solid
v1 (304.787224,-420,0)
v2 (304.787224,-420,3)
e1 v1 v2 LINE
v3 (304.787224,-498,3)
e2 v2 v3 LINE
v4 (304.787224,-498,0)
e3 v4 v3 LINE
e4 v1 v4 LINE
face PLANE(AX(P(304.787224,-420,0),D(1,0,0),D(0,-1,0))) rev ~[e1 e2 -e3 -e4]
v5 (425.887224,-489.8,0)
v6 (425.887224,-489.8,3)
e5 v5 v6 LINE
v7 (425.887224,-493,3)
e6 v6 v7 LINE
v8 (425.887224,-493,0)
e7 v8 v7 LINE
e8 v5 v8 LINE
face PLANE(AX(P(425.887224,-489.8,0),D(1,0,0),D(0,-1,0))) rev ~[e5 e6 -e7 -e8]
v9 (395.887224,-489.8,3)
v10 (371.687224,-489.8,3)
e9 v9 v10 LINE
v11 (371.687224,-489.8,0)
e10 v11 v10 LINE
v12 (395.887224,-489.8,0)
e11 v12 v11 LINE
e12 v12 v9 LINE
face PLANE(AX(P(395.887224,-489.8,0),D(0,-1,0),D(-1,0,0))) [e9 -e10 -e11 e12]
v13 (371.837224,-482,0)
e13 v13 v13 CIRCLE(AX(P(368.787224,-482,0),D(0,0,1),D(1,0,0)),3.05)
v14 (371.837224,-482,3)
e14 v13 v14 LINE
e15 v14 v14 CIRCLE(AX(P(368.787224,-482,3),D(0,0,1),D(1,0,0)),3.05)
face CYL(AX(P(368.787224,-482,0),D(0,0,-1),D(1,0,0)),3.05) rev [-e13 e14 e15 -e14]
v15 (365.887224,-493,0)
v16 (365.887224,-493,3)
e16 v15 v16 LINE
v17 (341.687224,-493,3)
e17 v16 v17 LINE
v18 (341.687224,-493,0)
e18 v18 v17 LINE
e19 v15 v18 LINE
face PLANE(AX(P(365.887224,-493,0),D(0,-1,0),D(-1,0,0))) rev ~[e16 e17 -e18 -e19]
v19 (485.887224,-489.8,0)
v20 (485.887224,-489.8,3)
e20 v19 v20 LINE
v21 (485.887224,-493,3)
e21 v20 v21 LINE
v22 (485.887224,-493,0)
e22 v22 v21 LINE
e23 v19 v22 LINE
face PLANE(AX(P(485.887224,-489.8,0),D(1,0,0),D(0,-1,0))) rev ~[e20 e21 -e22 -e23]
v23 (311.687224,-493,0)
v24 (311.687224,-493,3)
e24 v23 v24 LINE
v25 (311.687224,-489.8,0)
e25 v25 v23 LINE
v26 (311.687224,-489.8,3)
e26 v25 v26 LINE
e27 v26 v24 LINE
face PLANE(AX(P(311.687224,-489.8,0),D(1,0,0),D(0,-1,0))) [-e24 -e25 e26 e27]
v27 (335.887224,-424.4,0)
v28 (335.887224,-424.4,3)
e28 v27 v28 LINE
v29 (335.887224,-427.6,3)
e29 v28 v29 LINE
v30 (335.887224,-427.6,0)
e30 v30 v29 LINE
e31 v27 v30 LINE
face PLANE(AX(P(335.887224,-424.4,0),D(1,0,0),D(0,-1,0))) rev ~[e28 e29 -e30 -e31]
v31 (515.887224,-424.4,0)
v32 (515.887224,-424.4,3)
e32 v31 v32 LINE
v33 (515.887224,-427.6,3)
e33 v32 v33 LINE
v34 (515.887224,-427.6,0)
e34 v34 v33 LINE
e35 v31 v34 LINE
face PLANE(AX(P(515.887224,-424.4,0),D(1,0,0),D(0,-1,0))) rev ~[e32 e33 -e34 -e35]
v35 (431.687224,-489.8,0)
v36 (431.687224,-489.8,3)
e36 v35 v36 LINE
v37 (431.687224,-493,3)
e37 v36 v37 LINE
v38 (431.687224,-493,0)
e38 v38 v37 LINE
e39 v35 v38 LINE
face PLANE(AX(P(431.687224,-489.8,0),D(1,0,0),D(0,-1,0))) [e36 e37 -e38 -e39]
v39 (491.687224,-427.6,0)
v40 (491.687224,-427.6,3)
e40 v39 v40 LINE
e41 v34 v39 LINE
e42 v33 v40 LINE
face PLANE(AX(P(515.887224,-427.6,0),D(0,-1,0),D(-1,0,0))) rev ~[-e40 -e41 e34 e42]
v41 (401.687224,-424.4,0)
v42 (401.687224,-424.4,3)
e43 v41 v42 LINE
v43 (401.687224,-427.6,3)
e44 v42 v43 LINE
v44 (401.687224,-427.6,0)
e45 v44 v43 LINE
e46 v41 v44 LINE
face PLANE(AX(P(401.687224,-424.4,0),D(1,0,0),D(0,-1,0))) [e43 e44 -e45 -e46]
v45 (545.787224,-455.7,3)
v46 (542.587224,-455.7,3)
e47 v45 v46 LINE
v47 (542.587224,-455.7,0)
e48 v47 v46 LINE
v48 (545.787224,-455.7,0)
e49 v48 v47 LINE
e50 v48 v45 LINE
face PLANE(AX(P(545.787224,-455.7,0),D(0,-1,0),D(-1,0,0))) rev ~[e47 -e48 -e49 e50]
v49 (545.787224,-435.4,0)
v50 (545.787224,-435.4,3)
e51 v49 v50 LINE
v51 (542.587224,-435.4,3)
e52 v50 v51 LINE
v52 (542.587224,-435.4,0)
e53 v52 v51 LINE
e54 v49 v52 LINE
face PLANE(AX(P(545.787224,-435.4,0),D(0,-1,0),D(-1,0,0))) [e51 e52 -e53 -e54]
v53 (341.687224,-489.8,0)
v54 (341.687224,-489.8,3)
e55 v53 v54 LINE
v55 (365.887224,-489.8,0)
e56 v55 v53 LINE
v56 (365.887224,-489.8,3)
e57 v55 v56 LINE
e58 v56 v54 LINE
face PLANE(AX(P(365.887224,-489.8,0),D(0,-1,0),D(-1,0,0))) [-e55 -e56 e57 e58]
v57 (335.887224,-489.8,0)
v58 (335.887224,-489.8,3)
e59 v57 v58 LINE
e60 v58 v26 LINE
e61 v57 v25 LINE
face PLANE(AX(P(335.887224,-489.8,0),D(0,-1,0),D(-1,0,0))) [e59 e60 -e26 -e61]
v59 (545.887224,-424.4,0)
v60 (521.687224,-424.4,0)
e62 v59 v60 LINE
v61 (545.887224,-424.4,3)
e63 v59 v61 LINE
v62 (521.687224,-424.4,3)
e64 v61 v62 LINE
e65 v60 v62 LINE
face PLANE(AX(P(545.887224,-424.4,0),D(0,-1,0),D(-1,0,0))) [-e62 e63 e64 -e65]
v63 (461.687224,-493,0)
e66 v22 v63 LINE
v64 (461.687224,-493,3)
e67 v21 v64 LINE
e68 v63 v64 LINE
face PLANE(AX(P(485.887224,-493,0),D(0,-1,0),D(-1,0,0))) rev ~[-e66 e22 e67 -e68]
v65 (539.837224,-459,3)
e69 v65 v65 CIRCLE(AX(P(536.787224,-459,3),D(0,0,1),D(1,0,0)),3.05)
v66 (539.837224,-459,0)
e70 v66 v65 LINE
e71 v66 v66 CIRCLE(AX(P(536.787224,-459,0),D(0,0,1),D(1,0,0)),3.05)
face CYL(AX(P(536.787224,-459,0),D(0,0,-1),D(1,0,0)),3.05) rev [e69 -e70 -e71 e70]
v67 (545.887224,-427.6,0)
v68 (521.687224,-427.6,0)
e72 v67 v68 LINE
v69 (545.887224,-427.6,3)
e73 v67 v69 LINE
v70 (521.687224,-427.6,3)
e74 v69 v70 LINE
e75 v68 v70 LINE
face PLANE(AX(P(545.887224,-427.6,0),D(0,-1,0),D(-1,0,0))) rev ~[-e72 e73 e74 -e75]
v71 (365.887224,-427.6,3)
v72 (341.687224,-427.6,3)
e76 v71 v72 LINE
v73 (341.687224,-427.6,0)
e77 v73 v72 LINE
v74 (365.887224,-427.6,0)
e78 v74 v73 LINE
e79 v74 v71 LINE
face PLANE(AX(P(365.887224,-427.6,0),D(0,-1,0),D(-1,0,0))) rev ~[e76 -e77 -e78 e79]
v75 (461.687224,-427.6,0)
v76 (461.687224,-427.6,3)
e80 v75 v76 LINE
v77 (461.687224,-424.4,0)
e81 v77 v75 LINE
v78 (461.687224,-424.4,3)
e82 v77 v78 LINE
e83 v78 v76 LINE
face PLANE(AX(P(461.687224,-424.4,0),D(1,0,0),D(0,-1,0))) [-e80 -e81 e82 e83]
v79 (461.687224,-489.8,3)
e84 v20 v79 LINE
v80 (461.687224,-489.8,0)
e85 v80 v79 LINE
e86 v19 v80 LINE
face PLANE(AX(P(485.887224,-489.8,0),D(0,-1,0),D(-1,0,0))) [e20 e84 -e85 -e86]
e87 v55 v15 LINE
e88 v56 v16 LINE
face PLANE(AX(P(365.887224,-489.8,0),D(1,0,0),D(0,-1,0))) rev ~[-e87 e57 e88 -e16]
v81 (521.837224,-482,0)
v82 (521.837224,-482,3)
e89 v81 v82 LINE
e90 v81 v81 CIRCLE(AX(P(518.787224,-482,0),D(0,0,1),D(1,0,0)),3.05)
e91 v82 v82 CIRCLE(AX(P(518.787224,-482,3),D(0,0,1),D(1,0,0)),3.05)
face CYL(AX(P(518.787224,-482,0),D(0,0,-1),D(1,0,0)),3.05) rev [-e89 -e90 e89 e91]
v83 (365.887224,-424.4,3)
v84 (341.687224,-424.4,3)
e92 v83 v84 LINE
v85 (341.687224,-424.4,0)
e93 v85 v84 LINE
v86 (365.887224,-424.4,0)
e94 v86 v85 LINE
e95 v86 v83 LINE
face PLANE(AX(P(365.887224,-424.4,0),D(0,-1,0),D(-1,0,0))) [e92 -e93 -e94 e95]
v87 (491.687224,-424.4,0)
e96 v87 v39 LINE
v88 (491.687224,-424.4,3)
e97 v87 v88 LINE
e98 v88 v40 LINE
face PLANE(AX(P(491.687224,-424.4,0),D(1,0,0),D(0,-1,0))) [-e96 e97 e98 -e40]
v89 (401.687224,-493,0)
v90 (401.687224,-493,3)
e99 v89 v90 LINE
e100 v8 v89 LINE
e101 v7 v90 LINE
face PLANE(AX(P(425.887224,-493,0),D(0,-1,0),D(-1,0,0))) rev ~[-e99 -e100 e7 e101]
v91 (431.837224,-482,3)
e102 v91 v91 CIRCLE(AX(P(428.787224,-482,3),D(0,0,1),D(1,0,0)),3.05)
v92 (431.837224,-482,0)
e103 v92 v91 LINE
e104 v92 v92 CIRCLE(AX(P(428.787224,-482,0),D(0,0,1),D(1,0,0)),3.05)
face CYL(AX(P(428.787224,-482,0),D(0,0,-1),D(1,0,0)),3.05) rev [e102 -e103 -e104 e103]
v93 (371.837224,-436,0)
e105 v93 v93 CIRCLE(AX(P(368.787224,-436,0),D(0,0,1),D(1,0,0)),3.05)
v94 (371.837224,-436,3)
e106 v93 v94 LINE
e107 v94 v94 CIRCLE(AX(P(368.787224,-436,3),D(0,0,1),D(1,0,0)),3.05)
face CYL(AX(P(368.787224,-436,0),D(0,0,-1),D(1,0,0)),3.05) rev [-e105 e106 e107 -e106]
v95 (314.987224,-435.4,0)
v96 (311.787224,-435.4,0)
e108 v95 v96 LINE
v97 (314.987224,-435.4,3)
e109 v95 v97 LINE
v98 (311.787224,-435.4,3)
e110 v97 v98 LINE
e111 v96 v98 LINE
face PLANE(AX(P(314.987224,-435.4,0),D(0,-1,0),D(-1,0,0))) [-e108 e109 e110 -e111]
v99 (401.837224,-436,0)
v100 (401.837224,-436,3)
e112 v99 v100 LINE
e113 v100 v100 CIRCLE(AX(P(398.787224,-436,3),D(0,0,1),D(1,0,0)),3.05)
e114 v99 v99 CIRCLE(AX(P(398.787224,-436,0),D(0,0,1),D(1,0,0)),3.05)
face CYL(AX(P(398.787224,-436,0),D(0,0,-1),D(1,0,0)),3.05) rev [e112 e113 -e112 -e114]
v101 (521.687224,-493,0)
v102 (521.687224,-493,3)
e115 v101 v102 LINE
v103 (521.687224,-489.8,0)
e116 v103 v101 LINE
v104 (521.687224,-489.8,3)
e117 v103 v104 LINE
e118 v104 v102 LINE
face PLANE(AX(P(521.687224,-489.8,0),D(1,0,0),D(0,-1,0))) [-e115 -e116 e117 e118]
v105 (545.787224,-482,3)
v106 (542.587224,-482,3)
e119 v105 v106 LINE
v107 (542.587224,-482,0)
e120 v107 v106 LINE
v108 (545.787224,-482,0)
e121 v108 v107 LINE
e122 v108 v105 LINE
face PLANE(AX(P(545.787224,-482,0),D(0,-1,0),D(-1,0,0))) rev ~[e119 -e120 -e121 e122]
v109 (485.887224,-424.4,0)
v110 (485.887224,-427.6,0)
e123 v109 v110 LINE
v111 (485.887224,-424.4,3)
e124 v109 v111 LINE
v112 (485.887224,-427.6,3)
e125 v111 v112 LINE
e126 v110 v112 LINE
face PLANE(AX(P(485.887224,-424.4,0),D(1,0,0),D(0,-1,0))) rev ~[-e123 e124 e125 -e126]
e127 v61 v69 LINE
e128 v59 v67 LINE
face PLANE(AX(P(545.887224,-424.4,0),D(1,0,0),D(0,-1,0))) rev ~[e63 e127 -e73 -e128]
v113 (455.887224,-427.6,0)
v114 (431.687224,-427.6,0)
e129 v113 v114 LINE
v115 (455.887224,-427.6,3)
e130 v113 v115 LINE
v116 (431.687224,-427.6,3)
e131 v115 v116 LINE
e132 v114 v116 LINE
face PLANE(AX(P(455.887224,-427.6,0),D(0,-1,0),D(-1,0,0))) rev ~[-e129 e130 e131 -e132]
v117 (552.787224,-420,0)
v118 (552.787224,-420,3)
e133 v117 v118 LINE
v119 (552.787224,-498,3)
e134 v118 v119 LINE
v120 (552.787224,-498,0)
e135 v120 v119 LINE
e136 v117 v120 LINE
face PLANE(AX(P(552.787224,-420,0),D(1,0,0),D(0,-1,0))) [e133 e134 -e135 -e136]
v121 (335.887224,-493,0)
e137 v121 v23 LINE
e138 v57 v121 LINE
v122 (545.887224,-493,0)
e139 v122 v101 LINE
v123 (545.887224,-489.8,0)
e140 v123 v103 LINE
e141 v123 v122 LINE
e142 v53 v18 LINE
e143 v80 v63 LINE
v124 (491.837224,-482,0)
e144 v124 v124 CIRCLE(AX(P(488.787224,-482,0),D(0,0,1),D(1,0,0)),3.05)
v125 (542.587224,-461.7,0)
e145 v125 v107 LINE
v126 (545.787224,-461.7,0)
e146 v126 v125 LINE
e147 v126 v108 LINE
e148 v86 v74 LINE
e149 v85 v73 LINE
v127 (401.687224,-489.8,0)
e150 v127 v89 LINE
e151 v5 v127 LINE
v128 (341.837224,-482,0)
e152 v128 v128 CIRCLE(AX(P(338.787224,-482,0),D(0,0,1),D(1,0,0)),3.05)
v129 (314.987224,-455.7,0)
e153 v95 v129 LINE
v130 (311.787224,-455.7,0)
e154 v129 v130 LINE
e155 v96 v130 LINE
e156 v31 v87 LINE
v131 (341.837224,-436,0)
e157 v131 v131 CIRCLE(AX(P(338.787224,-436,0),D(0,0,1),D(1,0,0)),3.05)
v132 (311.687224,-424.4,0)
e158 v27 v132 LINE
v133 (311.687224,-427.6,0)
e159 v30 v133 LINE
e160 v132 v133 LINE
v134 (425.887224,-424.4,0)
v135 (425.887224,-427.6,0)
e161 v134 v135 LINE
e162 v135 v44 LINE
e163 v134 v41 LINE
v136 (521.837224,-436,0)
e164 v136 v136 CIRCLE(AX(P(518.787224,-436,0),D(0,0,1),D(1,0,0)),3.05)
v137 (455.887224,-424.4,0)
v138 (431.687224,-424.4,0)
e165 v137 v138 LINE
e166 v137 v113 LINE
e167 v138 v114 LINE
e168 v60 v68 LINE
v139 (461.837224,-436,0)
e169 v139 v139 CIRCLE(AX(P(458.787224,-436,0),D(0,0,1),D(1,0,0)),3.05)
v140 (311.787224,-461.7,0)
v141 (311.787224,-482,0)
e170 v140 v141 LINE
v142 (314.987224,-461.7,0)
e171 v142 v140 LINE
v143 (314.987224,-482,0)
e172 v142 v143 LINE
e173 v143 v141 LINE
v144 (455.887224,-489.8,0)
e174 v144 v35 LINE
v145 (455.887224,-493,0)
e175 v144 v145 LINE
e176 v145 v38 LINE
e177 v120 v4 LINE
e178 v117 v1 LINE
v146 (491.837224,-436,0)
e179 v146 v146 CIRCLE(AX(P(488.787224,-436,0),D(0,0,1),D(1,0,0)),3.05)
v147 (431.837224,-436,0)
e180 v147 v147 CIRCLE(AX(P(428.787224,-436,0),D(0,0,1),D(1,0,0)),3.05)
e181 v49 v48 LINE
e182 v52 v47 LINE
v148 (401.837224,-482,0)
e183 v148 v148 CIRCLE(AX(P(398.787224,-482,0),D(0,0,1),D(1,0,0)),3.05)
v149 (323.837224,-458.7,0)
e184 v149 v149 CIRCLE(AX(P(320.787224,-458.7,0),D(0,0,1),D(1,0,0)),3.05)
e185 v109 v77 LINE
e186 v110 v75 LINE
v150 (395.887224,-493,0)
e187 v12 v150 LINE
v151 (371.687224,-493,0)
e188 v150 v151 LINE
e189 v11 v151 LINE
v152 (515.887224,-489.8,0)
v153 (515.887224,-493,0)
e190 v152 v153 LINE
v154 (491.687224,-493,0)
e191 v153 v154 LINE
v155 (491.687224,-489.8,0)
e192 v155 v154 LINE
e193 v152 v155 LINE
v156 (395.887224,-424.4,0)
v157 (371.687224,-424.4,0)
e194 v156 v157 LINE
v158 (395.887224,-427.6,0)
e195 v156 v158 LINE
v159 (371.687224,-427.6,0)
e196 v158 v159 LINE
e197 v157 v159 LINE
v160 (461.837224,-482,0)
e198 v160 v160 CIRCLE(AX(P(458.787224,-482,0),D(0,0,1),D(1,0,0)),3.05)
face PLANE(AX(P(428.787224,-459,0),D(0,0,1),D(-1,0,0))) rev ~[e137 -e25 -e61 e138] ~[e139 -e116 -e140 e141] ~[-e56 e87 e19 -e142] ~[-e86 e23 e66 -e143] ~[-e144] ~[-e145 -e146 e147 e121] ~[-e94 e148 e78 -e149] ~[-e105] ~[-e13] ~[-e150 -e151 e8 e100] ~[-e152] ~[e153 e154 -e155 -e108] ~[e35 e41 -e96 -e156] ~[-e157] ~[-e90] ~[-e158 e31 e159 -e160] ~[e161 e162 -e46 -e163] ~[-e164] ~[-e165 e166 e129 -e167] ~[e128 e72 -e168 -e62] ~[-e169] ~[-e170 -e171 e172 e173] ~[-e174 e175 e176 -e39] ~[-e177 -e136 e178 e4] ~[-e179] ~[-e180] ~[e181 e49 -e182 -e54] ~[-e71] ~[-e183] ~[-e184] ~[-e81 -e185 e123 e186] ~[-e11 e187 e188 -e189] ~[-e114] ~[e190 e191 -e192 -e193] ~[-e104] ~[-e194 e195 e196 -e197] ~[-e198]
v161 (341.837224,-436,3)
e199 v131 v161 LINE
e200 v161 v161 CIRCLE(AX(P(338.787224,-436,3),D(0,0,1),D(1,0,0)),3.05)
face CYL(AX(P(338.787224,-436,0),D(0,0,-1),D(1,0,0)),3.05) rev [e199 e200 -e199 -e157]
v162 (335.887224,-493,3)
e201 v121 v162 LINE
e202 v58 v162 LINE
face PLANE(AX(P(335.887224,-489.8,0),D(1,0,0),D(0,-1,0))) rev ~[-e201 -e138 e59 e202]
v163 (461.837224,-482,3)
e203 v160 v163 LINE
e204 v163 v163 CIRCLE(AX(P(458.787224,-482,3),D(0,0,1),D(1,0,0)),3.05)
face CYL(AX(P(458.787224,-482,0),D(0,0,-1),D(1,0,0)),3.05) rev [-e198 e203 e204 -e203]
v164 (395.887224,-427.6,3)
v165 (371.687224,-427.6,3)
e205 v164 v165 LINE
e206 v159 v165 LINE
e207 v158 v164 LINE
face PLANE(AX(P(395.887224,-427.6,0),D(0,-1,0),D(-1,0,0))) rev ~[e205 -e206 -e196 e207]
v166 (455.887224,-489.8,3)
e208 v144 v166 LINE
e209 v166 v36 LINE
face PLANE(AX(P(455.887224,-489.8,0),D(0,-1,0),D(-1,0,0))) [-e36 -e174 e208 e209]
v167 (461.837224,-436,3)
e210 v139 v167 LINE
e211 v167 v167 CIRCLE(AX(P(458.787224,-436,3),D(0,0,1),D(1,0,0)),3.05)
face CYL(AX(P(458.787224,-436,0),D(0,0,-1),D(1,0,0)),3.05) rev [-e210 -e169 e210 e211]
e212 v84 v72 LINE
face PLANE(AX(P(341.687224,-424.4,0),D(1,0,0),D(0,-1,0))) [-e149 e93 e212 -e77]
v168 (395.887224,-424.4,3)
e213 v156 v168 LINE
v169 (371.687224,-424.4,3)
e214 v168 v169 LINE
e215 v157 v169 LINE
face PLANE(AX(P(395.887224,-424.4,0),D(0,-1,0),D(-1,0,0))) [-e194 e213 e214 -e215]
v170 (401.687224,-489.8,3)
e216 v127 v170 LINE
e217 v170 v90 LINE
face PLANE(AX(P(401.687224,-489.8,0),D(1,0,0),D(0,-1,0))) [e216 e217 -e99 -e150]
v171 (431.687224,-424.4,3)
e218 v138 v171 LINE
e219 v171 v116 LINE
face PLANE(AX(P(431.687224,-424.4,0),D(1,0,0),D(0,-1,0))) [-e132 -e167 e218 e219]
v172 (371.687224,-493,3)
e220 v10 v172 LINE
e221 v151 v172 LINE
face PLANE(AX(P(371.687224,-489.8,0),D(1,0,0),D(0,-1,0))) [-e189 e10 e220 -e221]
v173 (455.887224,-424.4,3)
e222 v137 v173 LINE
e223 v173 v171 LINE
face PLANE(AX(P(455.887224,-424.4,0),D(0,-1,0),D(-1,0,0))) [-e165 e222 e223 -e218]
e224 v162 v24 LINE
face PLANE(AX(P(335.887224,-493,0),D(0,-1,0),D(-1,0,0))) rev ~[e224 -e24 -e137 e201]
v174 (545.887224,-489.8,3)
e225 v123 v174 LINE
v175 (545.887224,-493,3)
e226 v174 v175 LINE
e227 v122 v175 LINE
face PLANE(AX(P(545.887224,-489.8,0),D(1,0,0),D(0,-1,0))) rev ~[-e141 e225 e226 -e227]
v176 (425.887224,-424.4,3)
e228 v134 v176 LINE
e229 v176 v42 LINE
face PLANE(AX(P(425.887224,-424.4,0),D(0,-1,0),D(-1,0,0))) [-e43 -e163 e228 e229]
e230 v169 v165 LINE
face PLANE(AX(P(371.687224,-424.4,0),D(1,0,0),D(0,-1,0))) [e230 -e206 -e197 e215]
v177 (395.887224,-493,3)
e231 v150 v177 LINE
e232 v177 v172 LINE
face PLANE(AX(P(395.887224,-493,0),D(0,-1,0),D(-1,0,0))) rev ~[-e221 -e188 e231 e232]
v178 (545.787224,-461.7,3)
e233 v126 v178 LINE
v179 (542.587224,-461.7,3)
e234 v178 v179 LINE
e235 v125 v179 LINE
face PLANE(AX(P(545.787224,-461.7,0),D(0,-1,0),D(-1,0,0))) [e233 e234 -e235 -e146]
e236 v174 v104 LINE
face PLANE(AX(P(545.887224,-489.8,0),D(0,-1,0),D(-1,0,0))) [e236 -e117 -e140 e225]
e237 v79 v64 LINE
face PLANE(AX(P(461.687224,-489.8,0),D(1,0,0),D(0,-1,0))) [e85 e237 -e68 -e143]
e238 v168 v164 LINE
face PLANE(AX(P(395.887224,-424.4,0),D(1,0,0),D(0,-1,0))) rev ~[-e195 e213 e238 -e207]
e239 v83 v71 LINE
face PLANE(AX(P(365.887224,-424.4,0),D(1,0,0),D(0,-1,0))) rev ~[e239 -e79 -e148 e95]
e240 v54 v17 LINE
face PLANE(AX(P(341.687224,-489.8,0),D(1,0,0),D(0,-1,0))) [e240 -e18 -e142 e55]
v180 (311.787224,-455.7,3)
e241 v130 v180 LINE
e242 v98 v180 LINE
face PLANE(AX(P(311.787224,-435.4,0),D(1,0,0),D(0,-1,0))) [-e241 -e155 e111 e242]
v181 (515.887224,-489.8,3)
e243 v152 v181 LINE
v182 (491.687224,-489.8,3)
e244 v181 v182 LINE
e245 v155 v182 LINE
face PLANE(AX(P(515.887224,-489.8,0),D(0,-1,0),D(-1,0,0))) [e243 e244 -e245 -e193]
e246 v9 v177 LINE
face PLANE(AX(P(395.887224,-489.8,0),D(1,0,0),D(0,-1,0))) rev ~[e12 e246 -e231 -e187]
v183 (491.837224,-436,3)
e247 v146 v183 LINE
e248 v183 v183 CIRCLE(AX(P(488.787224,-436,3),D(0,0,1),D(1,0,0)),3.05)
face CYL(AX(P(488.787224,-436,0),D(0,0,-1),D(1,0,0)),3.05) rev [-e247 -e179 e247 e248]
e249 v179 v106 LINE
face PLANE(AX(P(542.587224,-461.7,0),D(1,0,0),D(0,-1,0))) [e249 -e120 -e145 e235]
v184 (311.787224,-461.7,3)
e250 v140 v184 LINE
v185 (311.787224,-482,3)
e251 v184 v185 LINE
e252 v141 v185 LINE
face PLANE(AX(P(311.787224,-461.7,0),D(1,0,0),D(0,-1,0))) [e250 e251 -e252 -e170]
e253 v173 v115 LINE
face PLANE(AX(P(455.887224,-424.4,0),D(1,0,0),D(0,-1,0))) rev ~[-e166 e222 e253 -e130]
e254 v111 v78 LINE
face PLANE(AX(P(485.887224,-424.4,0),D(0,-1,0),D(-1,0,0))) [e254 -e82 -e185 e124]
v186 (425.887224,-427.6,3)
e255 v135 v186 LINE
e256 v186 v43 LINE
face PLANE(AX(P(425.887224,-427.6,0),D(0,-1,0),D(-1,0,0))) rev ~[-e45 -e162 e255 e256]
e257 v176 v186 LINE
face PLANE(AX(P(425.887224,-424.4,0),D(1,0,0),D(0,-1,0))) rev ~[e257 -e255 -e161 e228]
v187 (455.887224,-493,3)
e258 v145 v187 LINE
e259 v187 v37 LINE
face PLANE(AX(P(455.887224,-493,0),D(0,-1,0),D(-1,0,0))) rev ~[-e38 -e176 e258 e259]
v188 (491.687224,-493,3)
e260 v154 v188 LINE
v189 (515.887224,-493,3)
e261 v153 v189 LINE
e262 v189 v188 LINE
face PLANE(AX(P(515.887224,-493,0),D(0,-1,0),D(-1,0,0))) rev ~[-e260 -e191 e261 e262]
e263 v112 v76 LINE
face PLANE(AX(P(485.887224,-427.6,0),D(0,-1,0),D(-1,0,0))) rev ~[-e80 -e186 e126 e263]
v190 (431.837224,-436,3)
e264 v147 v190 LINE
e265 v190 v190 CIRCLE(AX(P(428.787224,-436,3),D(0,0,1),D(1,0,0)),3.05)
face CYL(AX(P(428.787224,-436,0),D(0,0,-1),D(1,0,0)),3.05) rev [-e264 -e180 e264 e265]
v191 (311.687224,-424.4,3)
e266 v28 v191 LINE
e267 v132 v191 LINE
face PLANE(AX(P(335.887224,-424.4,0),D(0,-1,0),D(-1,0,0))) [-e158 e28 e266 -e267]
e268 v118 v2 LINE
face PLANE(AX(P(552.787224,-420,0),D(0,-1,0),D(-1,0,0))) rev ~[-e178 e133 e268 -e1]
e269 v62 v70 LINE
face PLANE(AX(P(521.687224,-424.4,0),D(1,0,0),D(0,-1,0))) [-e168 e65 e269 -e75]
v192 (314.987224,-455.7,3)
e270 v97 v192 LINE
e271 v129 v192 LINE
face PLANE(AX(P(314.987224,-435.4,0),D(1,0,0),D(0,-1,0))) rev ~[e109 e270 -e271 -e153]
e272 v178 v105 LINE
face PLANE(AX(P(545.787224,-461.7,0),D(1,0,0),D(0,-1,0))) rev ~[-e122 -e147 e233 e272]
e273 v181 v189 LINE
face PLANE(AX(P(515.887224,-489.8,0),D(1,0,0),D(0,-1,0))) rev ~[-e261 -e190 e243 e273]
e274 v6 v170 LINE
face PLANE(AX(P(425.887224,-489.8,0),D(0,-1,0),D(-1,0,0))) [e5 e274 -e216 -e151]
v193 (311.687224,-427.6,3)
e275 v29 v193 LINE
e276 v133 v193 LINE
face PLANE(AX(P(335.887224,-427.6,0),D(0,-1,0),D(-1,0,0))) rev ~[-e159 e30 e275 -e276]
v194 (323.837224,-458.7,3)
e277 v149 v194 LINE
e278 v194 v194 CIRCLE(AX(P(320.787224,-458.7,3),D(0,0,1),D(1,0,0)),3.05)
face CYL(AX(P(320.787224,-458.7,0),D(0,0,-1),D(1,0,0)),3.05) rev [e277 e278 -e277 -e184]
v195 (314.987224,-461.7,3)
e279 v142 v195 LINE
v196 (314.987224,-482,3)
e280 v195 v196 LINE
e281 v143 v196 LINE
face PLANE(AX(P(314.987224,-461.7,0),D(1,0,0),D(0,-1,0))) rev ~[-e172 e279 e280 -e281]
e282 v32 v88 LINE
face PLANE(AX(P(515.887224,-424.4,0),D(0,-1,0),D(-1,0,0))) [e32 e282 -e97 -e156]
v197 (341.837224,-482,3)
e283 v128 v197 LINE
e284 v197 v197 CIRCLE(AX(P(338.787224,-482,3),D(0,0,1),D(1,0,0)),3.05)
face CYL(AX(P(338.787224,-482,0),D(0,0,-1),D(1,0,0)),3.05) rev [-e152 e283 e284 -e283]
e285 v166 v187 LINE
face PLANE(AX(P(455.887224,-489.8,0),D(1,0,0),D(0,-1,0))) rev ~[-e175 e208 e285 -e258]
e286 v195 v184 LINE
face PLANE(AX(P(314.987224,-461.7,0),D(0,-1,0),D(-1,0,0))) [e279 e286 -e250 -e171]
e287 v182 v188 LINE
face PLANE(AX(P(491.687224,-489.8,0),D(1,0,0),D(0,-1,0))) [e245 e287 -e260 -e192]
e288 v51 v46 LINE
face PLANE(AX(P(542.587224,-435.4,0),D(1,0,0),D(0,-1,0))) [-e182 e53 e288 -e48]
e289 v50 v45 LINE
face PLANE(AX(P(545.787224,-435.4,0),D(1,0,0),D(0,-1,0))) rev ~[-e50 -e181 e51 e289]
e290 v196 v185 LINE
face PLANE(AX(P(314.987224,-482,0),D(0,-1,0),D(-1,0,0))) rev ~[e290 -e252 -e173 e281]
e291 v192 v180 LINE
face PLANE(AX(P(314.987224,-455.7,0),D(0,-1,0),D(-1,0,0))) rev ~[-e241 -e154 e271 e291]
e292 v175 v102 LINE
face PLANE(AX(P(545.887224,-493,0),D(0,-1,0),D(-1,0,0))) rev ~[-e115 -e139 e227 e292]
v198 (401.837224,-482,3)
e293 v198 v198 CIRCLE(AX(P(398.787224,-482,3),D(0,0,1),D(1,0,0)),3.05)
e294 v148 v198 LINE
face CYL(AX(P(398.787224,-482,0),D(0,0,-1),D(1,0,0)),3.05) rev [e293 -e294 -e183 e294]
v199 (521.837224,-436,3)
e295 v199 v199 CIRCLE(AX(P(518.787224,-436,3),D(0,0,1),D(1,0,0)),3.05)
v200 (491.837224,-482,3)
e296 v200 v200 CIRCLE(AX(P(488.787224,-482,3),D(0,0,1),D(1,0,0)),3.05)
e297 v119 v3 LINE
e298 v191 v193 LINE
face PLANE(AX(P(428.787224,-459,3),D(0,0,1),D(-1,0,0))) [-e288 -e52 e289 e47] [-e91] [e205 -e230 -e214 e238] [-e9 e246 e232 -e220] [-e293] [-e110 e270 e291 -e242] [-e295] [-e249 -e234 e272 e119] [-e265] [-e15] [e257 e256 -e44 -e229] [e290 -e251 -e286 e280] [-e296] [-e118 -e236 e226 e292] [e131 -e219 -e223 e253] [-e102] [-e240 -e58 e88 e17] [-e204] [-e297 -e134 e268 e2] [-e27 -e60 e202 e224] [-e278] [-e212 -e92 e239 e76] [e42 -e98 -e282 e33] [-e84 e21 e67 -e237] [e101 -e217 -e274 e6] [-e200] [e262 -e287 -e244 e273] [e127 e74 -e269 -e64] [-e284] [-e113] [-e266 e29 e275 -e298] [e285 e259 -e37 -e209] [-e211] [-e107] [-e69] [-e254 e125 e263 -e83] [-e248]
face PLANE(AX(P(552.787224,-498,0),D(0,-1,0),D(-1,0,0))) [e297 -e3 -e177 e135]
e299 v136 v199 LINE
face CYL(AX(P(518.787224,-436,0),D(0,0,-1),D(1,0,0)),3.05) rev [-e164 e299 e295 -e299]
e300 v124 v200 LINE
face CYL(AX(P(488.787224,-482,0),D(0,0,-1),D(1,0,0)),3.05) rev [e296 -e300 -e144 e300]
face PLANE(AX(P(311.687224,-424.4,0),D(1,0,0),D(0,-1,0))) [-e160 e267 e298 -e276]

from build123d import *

# Parameters (mm, degrees)
SKETCH1_W           = 248
SKETCH1_H           = 78
SKETCH1_R           = 3.05
SKETCH1_W_2         = 24.2
SKETCH1_H_2         = 3.2
SKETCH1_W_3         = 3.2
SKETCH1_H_3         = 20.3
BOSS_EXTRUDE2_DEPTH = 3


with BuildPart() as part:
    # Sketch1 → Boss-Extrude2 (new body)
    with BuildSketch(Plane(origin=(0, 0, 0), x_dir=(-1, 0, 0), z_dir=(0, 0, 1))):
        with Locations((-428.787224347, 459)):
            Rectangle(SKETCH1_W, SKETCH1_H)
        with Locations(Location((-338.787224347, 436, 0), (0, 0, 180))):
            Circle(SKETCH1_R, mode=Mode.SUBTRACT)
        with Locations(Location((-368.787224347, 436, 0), (0, 0, 180))):
            Circle(SKETCH1_R, mode=Mode.SUBTRACT)
        with Locations(Location((-428.787224347, 436, 0), (0, 0, 180))):
            Circle(SKETCH1_R, mode=Mode.SUBTRACT)
        with Locations(Location((-398.787224347, 436, 0), (0, 0, 180))):
            Circle(SKETCH1_R, mode=Mode.SUBTRACT)
        with Locations(Location((-488.787224347, 436, 0), (0, 0, 180))):
            Circle(SKETCH1_R, mode=Mode.SUBTRACT)
        with Locations(Location((-458.787224347, 436, 0), (0, 0, 180))):
            Circle(SKETCH1_R, mode=Mode.SUBTRACT)
        with Locations(Location((-458.787224347, 482, 0), (0, 0, 180))):
            Circle(SKETCH1_R, mode=Mode.SUBTRACT)
        with Locations(Location((-428.787224347, 482, 0), (0, 0, 180))):
            Circle(SKETCH1_R, mode=Mode.SUBTRACT)
        with Locations(Location((-398.787224347, 482, 0), (0, 0, 180))):
            Circle(SKETCH1_R, mode=Mode.SUBTRACT)
        with Locations(Location((-368.787224347, 482, 0), (0, 0, 180))):
            Circle(SKETCH1_R, mode=Mode.SUBTRACT)
        with Locations(Location((-338.787224347, 482, 0), (0, 0, 180))):
            Circle(SKETCH1_R, mode=Mode.SUBTRACT)
        with Locations(Location((-320.787224347, 458.7, 0), (0, 0, 180))):
            Circle(SKETCH1_R, mode=Mode.SUBTRACT)
        with Locations(Location((-488.787224347, 482, 0), (0, 0, 180))):
            Circle(SKETCH1_R, mode=Mode.SUBTRACT)
        with Locations(Location((-518.787224347, 436, 0), (0, 0, 180))):
            Circle(SKETCH1_R, mode=Mode.SUBTRACT)
        with Locations(Location((-536.787224347, 459, 0), (0, 0, 180))):
            Circle(SKETCH1_R, mode=Mode.SUBTRACT)
        with Locations(Location((-518.787224347, 482, 0), (0, 0, 180))):
            Circle(SKETCH1_R, mode=Mode.SUBTRACT)
        with Locations((-383.787224347, 491.4)):
            Rectangle(SKETCH1_W_2, SKETCH1_H_2, mode=Mode.SUBTRACT)
        with Locations((-413.787224347, 491.4)):
            Rectangle(SKETCH1_W_2, SKETCH1_H_2, mode=Mode.SUBTRACT)
        with Locations((-353.787224347, 491.4)):
            Rectangle(SKETCH1_W_2, SKETCH1_H_2, mode=Mode.SUBTRACT)
        with Locations((-443.787224347, 491.4)):
            Rectangle(SKETCH1_W_2, SKETCH1_H_2, mode=Mode.SUBTRACT)
        with Locations((-473.787224347, 491.4)):
            Rectangle(SKETCH1_W_2, SKETCH1_H_2, mode=Mode.SUBTRACT)
        with Locations((-503.787224347, 491.4)):
            Rectangle(SKETCH1_W_2, SKETCH1_H_2, mode=Mode.SUBTRACT)
        with Locations((-533.787224347, 491.4)):
            Rectangle(SKETCH1_W_2, SKETCH1_H_2, mode=Mode.SUBTRACT)
        with Locations((-323.787224347, 491.4)):
            Rectangle(SKETCH1_W_2, SKETCH1_H_2, mode=Mode.SUBTRACT)
        with Locations((-313.387224347, 445.55)):
            Rectangle(SKETCH1_W_3, SKETCH1_H_3, mode=Mode.SUBTRACT)
        with Locations((-313.387224347, 471.85)):
            Rectangle(SKETCH1_W_3, SKETCH1_H_3, mode=Mode.SUBTRACT)
        with Locations((-544.187224347, 445.55)):
            Rectangle(SKETCH1_W_3, SKETCH1_H_3, mode=Mode.SUBTRACT)
        with Locations((-544.187224347, 471.85)):
            Rectangle(SKETCH1_W_3, SKETCH1_H_3, mode=Mode.SUBTRACT)
        with Locations((-533.787224347, 426)):
            Rectangle(SKETCH1_W_2, SKETCH1_H_2, mode=Mode.SUBTRACT)
        with Locations((-503.787224347, 426)):
            Rectangle(SKETCH1_W_2, SKETCH1_H_2, mode=Mode.SUBTRACT)
        with Locations((-473.787224347, 426)):
            Rectangle(SKETCH1_W_2, SKETCH1_H_2, mode=Mode.SUBTRACT)
        with Locations((-443.787224347, 426)):
            Rectangle(SKETCH1_W_2, SKETCH1_H_2, mode=Mode.SUBTRACT)
        with Locations((-413.787224347, 426)):
            Rectangle(SKETCH1_W_2, SKETCH1_H_2, mode=Mode.SUBTRACT)
        with Locations((-383.787224347, 426)):
            Rectangle(SKETCH1_W_2, SKETCH1_H_2, mode=Mode.SUBTRACT)
        with Locations((-353.787224347, 426)):
            Rectangle(SKETCH1_W_2, SKETCH1_H_2, mode=Mode.SUBTRACT)
        with Locations((-323.787224347, 426)):
            Rectangle(SKETCH1_W_2, SKETCH1_H_2, mode=Mode.SUBTRACT)
    extrude(amount=BOSS_EXTRUDE2_DEPTH)


solid = part.part
